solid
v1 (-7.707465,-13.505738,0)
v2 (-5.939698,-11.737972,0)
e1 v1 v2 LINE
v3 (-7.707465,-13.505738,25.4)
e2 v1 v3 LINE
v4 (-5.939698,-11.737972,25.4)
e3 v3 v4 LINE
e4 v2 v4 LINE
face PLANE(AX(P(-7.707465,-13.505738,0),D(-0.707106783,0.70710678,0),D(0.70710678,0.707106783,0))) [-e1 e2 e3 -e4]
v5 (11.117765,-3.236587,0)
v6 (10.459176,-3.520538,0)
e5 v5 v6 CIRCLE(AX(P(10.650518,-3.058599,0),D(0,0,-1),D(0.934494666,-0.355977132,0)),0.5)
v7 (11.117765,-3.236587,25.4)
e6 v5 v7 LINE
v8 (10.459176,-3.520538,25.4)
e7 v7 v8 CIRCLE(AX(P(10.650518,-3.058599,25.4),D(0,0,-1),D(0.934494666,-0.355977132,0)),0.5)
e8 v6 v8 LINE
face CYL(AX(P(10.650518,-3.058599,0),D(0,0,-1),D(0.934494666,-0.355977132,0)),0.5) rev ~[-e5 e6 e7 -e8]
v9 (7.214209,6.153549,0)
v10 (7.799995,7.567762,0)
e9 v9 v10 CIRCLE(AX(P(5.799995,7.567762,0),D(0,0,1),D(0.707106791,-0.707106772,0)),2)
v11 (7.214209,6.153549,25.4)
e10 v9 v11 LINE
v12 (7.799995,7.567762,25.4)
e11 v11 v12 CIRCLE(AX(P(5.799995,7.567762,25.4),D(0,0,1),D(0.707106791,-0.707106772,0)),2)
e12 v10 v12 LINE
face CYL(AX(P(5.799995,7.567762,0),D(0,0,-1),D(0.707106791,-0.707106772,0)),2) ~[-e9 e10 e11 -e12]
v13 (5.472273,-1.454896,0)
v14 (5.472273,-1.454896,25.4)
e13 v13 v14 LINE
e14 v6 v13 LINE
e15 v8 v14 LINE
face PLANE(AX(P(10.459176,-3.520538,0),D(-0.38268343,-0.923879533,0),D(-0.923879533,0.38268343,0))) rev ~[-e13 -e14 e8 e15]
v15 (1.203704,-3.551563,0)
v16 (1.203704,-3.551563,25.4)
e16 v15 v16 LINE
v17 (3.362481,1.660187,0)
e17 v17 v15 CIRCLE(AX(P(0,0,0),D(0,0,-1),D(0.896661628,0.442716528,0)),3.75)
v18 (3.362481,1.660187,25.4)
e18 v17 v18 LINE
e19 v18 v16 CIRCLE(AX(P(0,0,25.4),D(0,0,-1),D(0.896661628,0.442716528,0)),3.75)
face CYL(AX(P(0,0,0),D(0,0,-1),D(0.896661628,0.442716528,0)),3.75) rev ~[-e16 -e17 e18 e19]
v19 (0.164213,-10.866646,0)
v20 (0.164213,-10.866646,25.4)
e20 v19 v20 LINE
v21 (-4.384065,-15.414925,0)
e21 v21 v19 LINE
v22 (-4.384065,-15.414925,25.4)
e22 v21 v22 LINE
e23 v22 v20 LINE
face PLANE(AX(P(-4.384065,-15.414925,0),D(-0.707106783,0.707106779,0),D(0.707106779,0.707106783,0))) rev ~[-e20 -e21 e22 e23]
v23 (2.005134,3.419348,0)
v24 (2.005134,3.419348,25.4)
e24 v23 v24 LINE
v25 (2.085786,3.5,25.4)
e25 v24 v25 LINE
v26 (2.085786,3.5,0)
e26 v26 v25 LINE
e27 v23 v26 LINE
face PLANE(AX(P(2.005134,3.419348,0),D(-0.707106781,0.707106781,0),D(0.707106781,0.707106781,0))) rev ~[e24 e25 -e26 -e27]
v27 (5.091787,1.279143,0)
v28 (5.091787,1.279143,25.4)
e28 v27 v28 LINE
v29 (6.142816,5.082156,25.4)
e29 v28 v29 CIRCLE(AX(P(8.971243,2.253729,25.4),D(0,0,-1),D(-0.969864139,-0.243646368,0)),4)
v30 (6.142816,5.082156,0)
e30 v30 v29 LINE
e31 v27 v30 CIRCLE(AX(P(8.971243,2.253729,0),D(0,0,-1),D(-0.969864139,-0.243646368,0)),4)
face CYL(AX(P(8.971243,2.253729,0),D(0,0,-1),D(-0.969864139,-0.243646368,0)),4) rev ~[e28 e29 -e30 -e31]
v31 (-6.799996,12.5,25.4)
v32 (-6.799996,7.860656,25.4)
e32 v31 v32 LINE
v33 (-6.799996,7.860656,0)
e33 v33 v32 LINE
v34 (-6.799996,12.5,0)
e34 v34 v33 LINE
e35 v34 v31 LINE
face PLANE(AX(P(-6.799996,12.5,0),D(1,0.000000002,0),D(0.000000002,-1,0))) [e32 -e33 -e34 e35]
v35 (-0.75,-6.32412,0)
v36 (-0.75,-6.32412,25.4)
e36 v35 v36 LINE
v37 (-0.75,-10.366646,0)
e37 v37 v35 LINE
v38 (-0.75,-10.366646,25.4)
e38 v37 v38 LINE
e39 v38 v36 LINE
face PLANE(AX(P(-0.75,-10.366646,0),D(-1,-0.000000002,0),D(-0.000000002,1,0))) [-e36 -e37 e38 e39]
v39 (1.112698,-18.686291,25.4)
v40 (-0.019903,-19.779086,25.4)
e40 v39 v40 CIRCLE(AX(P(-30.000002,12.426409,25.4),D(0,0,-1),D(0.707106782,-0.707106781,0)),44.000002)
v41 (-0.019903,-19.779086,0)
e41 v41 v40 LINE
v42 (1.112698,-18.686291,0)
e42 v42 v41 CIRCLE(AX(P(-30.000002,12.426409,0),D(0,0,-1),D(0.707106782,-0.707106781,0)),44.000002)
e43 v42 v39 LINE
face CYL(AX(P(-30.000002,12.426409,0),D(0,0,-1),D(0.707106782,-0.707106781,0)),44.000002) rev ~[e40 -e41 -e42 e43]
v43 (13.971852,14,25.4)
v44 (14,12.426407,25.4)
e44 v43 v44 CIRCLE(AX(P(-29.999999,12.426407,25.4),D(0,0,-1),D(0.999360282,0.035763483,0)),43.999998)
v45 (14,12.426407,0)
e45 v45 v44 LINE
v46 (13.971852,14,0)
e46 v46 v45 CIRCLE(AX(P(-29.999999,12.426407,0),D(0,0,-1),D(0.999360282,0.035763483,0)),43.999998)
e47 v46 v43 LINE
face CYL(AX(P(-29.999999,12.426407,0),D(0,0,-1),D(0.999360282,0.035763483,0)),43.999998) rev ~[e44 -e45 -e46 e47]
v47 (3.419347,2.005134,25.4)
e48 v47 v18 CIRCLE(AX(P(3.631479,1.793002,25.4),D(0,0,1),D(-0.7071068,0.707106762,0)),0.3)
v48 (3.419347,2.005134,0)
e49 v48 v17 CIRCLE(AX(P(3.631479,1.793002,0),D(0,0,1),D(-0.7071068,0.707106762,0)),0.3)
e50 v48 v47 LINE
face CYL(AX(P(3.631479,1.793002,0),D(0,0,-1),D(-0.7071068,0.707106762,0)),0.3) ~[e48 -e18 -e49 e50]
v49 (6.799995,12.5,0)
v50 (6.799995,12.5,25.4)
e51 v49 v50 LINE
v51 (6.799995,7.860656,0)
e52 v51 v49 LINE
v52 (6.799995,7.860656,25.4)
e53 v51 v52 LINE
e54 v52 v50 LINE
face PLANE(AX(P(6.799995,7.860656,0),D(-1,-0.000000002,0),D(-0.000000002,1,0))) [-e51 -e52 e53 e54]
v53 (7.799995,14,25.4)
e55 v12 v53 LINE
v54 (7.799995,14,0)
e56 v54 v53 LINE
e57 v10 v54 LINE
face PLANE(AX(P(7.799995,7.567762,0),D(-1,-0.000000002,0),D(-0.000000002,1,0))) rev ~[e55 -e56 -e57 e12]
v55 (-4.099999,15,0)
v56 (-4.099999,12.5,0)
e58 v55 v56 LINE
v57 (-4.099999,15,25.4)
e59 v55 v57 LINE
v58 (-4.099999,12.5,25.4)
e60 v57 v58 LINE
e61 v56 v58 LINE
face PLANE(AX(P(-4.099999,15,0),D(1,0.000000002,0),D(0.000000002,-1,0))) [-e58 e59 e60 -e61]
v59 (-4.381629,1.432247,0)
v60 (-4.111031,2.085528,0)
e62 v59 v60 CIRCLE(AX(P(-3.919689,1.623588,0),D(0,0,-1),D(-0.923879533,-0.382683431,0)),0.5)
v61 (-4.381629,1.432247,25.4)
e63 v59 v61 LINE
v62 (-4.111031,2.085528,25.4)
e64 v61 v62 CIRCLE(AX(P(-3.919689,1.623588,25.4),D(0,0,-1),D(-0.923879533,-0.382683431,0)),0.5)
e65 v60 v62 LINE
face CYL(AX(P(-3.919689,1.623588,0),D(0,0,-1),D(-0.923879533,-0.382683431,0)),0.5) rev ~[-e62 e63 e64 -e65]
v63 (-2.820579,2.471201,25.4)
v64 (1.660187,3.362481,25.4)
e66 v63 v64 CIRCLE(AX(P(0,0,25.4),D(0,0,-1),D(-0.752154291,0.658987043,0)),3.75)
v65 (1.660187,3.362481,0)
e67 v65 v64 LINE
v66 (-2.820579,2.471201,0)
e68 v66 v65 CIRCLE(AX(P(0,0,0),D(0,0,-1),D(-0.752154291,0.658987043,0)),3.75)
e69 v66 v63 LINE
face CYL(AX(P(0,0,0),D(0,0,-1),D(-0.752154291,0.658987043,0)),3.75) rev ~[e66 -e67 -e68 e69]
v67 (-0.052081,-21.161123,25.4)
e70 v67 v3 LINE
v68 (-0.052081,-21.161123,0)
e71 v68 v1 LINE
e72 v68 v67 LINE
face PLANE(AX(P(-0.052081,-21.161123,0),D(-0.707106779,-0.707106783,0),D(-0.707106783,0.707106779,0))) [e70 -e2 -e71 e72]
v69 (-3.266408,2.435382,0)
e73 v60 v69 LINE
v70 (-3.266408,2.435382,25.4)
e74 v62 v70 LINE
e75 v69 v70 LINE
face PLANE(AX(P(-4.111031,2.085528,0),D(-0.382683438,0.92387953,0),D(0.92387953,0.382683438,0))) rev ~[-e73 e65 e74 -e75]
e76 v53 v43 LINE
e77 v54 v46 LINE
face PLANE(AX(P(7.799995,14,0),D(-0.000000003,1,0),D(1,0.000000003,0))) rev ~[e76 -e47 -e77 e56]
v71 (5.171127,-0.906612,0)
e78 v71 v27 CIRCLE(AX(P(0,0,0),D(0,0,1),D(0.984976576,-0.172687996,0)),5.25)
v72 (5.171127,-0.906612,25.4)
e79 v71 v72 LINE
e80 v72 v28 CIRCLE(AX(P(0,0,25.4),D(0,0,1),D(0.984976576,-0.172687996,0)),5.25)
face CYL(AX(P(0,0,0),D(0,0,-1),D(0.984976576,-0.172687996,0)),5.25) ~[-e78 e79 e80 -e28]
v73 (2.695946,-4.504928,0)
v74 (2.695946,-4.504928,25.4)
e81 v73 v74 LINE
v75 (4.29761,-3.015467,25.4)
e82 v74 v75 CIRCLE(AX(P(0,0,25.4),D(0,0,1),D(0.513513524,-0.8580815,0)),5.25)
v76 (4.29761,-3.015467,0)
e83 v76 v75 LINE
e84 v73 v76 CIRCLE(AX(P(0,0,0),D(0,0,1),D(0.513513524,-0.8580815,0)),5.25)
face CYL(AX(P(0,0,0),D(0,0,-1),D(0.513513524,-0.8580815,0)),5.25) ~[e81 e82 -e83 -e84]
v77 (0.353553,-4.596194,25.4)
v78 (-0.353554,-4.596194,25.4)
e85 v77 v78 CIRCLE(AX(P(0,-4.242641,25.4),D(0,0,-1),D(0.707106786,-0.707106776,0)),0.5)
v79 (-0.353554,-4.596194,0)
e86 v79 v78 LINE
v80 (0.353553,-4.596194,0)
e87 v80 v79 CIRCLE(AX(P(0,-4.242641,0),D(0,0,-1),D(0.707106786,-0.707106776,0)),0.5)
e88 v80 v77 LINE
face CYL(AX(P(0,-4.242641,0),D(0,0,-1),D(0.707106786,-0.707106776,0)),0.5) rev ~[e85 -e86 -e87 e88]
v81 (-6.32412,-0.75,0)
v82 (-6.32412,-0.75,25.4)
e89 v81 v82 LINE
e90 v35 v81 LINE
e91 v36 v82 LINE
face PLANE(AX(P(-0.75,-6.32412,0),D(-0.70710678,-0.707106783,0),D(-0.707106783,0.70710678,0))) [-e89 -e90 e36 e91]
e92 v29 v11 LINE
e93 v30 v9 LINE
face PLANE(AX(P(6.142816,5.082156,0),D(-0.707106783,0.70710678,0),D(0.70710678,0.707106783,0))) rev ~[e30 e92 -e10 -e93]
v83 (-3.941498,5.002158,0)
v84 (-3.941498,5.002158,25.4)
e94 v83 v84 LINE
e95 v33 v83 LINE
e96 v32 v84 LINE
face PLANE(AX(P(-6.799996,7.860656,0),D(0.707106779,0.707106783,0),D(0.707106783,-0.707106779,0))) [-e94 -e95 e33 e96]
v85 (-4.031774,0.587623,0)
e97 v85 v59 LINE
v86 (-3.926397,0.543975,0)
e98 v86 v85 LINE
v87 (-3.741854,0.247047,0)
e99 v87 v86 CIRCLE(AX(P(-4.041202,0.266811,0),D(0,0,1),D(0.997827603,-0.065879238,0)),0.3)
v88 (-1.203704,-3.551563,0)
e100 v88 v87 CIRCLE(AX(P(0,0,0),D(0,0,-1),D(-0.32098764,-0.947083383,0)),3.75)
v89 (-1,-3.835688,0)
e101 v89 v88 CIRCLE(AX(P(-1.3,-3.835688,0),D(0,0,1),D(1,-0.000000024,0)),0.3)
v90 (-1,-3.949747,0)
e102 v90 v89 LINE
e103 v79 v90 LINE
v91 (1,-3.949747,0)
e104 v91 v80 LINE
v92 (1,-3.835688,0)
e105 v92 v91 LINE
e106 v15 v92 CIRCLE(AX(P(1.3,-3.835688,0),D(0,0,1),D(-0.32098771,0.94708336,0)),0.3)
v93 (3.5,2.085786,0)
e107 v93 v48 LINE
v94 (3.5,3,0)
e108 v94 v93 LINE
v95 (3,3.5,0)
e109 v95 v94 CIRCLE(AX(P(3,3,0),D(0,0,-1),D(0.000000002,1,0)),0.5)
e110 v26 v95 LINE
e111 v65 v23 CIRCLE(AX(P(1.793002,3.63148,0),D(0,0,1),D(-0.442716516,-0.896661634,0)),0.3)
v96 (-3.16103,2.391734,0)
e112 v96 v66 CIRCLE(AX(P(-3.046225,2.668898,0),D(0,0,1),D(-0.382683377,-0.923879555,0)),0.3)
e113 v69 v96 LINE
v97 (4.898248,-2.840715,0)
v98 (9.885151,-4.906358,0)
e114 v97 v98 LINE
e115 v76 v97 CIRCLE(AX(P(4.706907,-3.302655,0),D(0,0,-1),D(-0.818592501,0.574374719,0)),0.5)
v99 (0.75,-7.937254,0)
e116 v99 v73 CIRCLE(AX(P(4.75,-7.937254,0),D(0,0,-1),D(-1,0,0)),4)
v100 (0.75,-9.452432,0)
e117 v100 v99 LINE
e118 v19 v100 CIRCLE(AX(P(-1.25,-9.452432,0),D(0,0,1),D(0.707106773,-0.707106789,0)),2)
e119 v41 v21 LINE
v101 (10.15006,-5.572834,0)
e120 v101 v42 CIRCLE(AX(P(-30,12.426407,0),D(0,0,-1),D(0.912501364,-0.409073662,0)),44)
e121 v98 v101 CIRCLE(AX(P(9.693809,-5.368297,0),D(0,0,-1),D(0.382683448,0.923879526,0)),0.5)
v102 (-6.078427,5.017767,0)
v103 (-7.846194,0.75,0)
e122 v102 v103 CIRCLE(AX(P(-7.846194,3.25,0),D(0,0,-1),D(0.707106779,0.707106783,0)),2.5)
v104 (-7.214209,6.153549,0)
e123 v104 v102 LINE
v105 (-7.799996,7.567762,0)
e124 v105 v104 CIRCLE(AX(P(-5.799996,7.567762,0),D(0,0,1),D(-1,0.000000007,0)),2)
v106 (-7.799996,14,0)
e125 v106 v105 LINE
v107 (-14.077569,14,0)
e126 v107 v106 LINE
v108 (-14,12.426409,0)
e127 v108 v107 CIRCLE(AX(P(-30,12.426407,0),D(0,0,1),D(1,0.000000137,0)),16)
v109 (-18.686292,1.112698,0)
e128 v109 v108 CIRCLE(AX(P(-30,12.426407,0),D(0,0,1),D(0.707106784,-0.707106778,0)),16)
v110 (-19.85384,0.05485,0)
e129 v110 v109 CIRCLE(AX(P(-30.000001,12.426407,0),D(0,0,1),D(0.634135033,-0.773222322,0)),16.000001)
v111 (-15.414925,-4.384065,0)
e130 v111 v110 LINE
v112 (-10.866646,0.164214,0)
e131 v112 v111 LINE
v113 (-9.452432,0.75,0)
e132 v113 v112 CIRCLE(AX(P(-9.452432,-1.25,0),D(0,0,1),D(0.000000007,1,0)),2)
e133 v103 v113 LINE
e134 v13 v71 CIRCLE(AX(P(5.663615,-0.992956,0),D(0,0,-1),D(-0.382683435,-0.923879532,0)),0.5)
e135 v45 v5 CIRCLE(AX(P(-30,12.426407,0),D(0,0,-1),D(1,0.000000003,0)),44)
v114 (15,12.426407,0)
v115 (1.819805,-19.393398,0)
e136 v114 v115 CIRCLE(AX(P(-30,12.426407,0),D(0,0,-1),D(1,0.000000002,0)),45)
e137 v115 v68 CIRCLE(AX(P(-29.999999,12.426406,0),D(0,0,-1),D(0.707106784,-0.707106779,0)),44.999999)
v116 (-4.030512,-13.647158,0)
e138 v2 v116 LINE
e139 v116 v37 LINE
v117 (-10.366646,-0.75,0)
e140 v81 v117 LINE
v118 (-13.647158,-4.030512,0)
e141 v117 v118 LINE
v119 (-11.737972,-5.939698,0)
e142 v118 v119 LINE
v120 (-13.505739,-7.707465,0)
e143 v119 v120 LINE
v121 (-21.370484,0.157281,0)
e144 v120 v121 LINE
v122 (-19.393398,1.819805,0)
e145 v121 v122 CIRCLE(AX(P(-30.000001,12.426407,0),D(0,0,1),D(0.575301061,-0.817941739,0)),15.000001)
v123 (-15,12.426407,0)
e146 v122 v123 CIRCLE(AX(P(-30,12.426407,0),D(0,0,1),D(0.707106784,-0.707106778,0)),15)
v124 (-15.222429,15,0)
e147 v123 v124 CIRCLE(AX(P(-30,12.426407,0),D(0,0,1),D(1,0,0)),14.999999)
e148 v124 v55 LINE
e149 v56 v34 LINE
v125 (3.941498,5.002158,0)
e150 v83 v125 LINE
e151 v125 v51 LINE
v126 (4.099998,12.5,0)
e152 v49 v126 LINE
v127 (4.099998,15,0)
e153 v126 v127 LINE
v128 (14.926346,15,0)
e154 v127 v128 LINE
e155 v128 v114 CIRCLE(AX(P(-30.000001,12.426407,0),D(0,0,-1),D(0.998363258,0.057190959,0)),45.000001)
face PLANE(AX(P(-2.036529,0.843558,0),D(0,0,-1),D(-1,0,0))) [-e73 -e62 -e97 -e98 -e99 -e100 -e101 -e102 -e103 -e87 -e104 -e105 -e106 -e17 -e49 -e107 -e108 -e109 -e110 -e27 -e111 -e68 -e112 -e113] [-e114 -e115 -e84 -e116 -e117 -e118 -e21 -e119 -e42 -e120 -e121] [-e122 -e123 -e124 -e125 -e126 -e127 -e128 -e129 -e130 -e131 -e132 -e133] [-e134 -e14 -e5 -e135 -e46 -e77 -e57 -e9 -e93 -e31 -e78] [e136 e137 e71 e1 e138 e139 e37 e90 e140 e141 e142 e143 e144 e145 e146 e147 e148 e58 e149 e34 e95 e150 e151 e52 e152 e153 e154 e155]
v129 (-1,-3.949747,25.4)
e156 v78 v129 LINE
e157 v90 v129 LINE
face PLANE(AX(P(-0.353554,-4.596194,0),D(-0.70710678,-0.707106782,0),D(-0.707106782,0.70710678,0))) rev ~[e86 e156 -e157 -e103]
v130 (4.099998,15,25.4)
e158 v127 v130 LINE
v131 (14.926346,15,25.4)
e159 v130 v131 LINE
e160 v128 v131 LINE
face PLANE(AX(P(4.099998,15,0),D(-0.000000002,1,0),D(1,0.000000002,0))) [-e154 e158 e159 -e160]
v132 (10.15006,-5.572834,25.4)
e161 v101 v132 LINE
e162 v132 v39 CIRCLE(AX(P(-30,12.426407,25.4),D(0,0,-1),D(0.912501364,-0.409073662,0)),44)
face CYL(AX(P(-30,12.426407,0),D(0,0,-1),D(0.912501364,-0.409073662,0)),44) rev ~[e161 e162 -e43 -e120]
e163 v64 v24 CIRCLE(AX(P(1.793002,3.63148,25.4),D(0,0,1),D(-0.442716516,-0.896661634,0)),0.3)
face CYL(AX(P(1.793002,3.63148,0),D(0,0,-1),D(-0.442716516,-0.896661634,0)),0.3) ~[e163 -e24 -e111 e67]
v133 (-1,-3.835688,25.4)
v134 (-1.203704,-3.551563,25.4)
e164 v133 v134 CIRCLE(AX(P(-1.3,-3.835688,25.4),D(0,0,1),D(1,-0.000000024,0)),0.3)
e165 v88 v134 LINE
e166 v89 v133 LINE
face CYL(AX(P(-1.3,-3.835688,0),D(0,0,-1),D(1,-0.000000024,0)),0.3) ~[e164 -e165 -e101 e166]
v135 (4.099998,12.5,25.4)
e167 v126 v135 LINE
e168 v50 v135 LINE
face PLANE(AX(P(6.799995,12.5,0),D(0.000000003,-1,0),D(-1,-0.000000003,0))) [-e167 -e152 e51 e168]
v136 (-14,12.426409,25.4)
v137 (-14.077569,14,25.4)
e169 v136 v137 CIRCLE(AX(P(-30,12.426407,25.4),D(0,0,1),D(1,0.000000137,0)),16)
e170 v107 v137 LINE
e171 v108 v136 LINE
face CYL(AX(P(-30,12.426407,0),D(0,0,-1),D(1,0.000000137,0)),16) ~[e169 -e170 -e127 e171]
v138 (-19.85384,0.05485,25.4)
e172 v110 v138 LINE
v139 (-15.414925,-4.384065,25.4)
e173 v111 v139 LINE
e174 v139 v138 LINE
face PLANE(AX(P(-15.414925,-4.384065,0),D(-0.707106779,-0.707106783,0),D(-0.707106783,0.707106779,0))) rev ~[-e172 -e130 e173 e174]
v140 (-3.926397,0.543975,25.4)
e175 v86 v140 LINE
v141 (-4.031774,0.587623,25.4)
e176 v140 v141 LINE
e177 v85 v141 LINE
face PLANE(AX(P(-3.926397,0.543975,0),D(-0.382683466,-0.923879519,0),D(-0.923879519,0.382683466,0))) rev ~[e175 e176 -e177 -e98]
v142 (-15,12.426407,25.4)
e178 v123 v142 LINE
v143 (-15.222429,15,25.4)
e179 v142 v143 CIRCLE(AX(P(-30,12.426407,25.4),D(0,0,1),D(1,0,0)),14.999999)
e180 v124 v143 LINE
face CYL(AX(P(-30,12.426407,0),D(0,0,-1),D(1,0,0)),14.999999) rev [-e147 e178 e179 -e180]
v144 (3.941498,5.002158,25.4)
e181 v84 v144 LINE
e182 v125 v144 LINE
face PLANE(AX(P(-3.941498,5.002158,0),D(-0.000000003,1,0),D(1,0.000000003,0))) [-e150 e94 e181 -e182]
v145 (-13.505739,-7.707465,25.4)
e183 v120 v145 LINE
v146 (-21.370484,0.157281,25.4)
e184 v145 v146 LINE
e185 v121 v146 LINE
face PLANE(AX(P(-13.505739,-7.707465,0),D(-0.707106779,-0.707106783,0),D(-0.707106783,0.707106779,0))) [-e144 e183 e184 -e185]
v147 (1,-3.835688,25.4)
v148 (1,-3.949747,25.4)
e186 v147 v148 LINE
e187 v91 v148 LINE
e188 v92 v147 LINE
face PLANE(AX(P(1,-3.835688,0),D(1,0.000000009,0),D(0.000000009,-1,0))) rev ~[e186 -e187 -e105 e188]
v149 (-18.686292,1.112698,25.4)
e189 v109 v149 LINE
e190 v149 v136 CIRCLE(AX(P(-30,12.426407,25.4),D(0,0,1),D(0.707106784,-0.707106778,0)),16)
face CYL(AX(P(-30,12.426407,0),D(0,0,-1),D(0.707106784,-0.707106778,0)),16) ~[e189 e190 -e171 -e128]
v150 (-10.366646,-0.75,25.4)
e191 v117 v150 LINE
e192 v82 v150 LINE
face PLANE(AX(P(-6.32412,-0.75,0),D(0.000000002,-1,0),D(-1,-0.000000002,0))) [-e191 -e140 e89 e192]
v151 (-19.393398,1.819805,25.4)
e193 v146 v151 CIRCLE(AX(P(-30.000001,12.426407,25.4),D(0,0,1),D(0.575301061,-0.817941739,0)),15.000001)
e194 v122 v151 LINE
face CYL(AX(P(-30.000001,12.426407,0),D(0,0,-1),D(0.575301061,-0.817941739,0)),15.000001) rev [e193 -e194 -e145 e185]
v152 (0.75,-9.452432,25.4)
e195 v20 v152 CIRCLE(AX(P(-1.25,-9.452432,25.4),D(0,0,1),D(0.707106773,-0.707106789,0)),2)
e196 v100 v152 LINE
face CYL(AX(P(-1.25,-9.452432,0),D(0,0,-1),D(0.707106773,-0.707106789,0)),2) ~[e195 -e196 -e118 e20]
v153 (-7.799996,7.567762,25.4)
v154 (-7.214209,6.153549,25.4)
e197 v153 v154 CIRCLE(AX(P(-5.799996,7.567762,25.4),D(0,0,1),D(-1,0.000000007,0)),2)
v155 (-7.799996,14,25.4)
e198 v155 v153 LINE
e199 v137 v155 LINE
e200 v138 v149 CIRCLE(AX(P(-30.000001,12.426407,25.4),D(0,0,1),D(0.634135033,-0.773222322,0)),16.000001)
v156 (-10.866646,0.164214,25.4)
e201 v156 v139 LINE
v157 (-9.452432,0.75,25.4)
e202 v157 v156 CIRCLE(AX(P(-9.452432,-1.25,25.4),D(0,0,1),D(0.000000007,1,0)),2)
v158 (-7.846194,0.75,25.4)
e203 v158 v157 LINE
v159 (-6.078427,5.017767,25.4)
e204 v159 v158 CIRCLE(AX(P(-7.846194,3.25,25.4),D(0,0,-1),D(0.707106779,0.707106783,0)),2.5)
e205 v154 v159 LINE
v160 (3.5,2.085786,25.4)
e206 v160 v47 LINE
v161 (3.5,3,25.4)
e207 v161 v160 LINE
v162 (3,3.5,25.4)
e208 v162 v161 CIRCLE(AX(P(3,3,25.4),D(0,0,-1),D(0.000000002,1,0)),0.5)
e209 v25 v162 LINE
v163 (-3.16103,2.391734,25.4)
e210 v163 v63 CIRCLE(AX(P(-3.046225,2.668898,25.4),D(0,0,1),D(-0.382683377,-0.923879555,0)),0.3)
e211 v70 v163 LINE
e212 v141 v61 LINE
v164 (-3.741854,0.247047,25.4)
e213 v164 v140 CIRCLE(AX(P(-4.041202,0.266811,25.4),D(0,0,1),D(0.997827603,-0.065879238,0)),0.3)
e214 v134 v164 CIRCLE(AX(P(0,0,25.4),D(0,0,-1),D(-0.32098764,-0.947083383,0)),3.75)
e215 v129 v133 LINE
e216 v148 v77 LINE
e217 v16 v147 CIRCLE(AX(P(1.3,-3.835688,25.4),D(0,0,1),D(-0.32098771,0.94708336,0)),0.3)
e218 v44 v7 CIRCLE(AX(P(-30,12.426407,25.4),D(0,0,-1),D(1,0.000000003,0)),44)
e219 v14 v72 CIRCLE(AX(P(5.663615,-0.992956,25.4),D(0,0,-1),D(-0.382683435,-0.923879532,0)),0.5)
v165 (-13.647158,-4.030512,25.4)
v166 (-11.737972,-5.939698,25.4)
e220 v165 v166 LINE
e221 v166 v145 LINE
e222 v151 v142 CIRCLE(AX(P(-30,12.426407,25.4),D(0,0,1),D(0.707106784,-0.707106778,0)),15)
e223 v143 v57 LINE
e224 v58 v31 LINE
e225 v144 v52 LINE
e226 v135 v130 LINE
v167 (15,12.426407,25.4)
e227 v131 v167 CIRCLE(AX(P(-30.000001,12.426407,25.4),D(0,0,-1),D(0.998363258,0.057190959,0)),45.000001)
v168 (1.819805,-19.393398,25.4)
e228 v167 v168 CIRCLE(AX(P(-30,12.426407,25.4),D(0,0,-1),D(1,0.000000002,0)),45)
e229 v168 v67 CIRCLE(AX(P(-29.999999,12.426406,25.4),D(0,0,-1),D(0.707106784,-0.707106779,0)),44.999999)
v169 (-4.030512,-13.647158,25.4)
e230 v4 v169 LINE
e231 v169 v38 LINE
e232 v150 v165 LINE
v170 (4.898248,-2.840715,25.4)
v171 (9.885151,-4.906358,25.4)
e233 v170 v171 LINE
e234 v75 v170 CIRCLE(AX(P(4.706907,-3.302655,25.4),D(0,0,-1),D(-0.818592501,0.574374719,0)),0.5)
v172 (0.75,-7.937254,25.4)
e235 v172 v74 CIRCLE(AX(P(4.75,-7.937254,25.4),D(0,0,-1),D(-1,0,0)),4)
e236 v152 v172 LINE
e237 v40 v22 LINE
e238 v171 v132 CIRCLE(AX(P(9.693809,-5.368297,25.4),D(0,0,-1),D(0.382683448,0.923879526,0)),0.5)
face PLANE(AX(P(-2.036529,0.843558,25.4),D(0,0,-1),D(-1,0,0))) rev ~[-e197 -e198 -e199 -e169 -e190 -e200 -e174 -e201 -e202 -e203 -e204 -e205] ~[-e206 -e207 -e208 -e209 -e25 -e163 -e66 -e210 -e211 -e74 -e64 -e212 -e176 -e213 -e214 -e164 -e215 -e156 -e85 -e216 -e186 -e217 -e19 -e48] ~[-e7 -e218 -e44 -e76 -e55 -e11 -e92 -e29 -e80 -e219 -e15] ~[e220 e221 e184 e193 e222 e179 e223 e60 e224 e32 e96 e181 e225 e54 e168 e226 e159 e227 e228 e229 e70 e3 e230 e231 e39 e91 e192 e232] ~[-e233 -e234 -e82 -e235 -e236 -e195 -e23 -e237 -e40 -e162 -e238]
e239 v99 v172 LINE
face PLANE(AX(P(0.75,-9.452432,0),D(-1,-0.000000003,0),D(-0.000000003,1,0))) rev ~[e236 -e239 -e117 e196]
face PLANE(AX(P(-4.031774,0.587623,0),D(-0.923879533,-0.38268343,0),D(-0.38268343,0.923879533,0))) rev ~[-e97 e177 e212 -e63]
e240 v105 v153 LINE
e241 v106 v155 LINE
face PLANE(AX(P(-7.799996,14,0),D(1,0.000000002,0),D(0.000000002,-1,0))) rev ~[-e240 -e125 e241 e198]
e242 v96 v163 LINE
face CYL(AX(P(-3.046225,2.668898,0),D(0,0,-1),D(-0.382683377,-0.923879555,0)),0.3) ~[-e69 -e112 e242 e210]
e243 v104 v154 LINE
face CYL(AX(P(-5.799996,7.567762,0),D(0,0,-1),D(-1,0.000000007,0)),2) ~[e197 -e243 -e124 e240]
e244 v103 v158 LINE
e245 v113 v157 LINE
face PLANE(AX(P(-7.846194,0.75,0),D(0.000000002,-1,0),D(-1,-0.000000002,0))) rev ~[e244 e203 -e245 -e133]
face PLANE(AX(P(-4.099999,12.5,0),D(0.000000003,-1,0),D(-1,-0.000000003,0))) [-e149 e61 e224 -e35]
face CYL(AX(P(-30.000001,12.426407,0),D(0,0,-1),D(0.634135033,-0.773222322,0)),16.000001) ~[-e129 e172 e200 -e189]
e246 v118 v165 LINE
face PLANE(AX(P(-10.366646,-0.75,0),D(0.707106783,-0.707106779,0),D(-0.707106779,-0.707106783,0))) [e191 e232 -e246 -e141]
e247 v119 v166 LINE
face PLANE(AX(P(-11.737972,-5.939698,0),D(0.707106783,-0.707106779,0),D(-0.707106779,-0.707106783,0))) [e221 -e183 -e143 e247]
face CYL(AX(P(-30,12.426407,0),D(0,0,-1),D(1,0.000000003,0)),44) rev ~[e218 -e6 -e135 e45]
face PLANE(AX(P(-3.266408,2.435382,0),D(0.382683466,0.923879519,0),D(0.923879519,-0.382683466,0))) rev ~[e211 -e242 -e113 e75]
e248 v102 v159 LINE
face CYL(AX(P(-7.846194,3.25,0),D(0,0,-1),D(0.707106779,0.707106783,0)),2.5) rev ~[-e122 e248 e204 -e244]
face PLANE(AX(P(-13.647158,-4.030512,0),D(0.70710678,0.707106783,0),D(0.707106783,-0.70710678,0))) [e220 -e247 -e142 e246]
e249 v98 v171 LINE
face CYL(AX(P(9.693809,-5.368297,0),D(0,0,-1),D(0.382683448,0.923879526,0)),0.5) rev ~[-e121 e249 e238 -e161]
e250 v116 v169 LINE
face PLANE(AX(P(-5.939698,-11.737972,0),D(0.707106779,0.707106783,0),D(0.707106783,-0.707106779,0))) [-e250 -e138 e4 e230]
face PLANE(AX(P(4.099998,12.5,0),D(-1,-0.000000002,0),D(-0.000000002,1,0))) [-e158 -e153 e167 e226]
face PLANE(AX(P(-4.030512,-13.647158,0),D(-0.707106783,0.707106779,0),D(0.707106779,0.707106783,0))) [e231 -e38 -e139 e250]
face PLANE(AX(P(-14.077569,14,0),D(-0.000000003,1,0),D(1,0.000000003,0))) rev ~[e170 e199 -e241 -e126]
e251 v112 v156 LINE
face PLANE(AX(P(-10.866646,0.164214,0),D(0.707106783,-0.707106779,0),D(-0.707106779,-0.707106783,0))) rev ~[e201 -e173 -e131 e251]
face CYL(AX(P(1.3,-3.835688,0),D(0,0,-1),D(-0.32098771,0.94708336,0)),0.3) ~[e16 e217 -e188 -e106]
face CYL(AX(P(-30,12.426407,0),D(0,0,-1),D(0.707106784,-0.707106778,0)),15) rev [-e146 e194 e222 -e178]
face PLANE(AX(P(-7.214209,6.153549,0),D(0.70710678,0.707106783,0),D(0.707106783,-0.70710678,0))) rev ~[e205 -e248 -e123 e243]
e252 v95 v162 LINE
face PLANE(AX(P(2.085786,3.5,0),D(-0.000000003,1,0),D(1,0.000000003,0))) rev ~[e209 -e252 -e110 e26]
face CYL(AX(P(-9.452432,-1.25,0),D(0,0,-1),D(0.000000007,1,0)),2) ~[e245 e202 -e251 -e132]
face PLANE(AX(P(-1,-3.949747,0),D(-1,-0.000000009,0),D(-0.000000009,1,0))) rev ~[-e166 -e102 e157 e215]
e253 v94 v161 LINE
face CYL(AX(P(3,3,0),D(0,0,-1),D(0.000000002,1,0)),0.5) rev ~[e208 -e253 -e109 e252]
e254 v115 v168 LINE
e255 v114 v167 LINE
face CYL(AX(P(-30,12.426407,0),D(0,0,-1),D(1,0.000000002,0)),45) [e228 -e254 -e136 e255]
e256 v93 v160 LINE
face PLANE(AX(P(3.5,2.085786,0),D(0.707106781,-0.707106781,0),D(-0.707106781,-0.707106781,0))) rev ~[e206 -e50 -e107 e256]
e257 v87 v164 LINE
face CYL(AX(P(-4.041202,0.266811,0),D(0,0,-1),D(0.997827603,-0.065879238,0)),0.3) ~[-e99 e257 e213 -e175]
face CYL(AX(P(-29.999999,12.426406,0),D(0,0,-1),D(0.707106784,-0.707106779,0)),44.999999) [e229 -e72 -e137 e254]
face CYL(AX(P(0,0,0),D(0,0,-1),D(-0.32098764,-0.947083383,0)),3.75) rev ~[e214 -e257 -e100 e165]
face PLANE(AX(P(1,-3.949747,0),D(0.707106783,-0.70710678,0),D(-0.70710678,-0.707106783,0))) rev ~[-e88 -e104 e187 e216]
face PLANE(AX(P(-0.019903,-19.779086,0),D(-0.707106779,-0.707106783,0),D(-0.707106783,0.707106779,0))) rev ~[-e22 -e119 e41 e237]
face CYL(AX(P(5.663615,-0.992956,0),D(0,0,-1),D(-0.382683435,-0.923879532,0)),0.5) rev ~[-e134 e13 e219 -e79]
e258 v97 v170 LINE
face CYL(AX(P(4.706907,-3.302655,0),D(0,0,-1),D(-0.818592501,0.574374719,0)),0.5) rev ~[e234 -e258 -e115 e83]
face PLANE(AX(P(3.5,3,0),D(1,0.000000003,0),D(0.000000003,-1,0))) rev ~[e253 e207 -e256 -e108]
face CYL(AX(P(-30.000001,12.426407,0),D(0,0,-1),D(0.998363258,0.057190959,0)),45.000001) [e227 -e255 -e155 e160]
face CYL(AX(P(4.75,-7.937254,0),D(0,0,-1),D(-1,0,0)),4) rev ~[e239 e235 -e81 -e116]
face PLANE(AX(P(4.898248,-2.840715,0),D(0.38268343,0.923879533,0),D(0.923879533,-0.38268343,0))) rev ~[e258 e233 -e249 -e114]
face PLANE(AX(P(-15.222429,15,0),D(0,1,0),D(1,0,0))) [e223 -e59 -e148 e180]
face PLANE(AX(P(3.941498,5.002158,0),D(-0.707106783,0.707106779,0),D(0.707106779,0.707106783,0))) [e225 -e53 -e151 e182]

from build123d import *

# Parameters (mm, degrees)
EXTRUSION4_DEPTH = 25.4


with BuildPart() as part:
    # Sketch1 → Extrusion4 (new body)
    with BuildSketch(Plane.XY):
        with BuildLine():
            Line((-15.222428705, 14.999999974), (-4.099998637, 14.999999974))
            Line((-4.099998637, 14.999999974), (-4.099998631, 12.499999975))
            Line((-4.099998631, 12.499999975), (-6.799995581, 12.499999968))
            Line((-6.799995581, 12.499999968), (-6.79999557, 7.860655568))
            Line((-6.79999557, 7.860655568), (-3.941498133, 5.002158145))
            Line((-3.941498133, 5.002158145), (3.941497857, 5.002158165))
            Line((3.941497857, 5.002158165), (6.79999528, 7.860655602))
            Line((6.79999528, 7.860655602), (6.799995269, 12.500000002))
            Line((6.799995269, 12.500000002), (4.099998319, 12.499999995))
            Line((4.099998319, 12.499999995), (4.099998313, 14.999999995))
            Line((4.099998313, 14.999999995), (14.92634643, 15.000000022))
            ThreePointArc((14.92634643, 15.000000022), (14.981582716, 13.713730334), (14.999999839, 12.426406922))
            ThreePointArc((14.999999839, 12.426406922), (11.574578842, -4.794347555), (1.819805062, -19.393398286))
            ThreePointArc((1.819805062, -19.393398286), (0.896507077, -20.290650536), (-0.052080894, -21.161122609))
            Line((-0.052080894, -21.161122609), (-7.707465087, -13.505738454))
            Line((-7.707465087, -13.505738454), (-5.939698141, -11.7379715))
            Line((-5.939698141, -11.7379715), (-4.030511986, -13.647157645))
            Line((-4.030511986, -13.647157645), (-0.750000115, -10.366645757))
            Line((-0.750000115, -10.366645757), (-0.750000125, -6.324119927))
            Line((-0.750000125, -6.324119927), (-6.324120058, -0.75000002))
            Line((-6.324120058, -0.75000002), (-10.366645888, -0.75000003))
            Line((-10.366645888, -0.75000003), (-13.64715776, -4.030511919))
            Line((-13.64715776, -4.030511919), (-11.737971606, -5.939698064))
            Line((-11.737971606, -5.939698064), (-13.505738551, -7.707465018))
            Line((-13.505738551, -7.707465018), (-21.370484292, 0.157280684))
            ThreePointArc((-21.370484292, 0.157280684), (-20.34608634, 0.945903864), (-19.393398415, 1.819805117))
            ThreePointArc((-19.393398415, 1.819805117), (-16.141807163, 6.68615536), (-15.000000161, 12.426406848))
            ThreePointArc((-15.000000161, 12.426406848), (-15.055710753, 13.718000441), (-15.222428705, 14.999999974))
        make_face()
        with BuildLine():
            Line((-4.031774412, 0.587623385), (-4.381628794, 1.432246584))
            ThreePointArc((-4.381628794, 1.432246584), (-4.381628794, 1.814930015), (-4.111030745, 2.085528065))
            Line((-4.111030745, 2.085528065), (-3.266407566, 2.435382447))
            Line((-3.266407566, 2.435382447), (-3.161030076, 2.391733657))
            ThreePointArc((-3.161030076, 2.391733657), (-2.978032474, 2.376750688), (-2.820578756, 2.471201408))
            ThreePointArc((-2.820578756, 2.471201408), (-0.731588872, 3.677944803), (1.660186832, 3.362481109))
            ThreePointArc((1.660186832, 3.362481109), (1.841799821, 3.33547495), (2.005133821, 3.41934756))
            Line((2.005133821, 3.41934756), (2.085786261, 3.5))
            Line((2.085786261, 3.5), (2.999999821, 3.500000003))
            ThreePointArc((2.999999821, 3.500000003), (3.353553212, 3.353553393), (3.499999822, 3.000000004))
            Line((3.499999822, 3.000000004), (3.499999825, 2.085786444))
            Line((3.499999825, 2.085786444), (3.419347385, 2.005134004))
            ThreePointArc((3.419347385, 2.005134004), (3.335474775, 1.841800003), (3.362480936, 1.660187013))
            ThreePointArc((3.362480936, 1.660187013), (3.464548079, -1.435062852), (1.203703559, -3.551562652))
            ThreePointArc((1.203703559, -3.551562652), (1.056187548, -3.660886193), (0.999999859, -3.835687662))
            Line((0.999999859, -3.835687662), (0.99999986, -3.949747432))
            Line((0.99999986, -3.949747432), (0.353553251, -4.596194044))
            ThreePointArc((0.353553251, -4.596194044), (-1.38e-07, -4.742640655), (-0.353553529, -4.596194046))
            Line((-0.353553529, -4.596194046), (-1.00000014, -3.949747437))
            Line((-1.00000014, -3.949747437), (-1.000000141, -3.835687667))
            ThreePointArc((-1.000000141, -3.835687667), (-1.056187824, -3.660886194), (-1.203703841, -3.551562658))
            ThreePointArc((-1.203703841, -3.551562658), (-3.118011196, -2.083388382), (-3.741853671, 0.247046976))
            ThreePointArc((-3.741853671, 0.247046976), (-3.786403511, 0.425170315), (-3.926396922, 0.543974595))
            Line((-3.926396922, 0.543974595), (-4.031774412, 0.587623385))
        make_face(mode=Mode.SUBTRACT)
        with BuildLine():
            Line((7.799995261, 7.567762394), (7.799995245, 14.000000024))
            Line((7.799995245, 14.000000024), (13.971852229, 14.00000004))
            ThreePointArc((13.971852229, 14.00000004), (13.992962358, 13.213329344), (13.999999819, 12.426406924))
            ThreePointArc((13.999999819, 12.426406924), (13.273442442, 4.463419684), (11.117765058, -3.236587227))
            ThreePointArc((11.117765058, -3.236587227), (10.848477439, -3.517741288), (10.459176009, -3.520538429))
            Line((10.459176009, -3.520538429), (5.472273453, -1.454895771))
            ThreePointArc((5.472273453, -1.454895771), (5.225369073, -1.233664041), (5.171126882, -0.906612002))
            ThreePointArc((5.171126882, -0.906612002), (5.246544564, 0.190443263), (5.091786587, 1.279143428))
            ThreePointArc((5.091786587, 1.279143428), (5.115772732, 3.31925596), (6.142816007, 5.08215601))
            Line((6.142816007, 5.08215601), (7.214208825, 6.153548833))
            ThreePointArc((7.214208825, 6.153548833), (7.647754322, 6.802395532), (7.799995261, 7.567762394))
        make_face(mode=Mode.SUBTRACT)
        with BuildLine():
            Line((0.749999883, -9.452432163), (0.749999879, -7.937253913))
            ThreePointArc((0.749999879, -7.937253913), (1.270329188, -5.964466066), (2.695945821, -4.504927888))
            ThreePointArc((2.695945821, -4.504927888), (3.575203493, -3.84453103), (4.297610347, -3.01546746))
            ThreePointArc((4.297610347, -3.01546746), (4.567226078, -2.822561759), (4.898248297, -2.840715069))
            Line((4.898248297, -2.840715069), (9.885150852, -4.906357727))
            ThreePointArc((9.885150852, -4.906357727), (10.158450647, -5.183613277), (10.150059814, -5.57283431))
            ThreePointArc((10.150059814, -5.57283431), (6.229626845, -12.541855522), (1.112698256, -18.686291472))
            ThreePointArc((1.112698256, -18.686291472), (0.551283843, -19.237753416), (-0.019903451, -19.779086485))
            Line((-0.019903451, -19.779086485), (-4.384065382, -15.414924576))
            Line((-4.384065382, -15.414924576), (0.164213447, -10.866645724))
            ThreePointArc((0.164213447, -10.866645724), (0.597758953, -10.217799029), (0.749999883, -9.452432163))
        make_face(mode=Mode.SUBTRACT)
        with BuildLine():
            Line((-14.07756929, 13.99999997), (-7.799995595, 13.999999986))
            Line((-7.799995595, 13.999999986), (-7.799995579, 7.567762366))
            ThreePointArc((-7.799995579, 7.567762366), (-7.647754645, 6.802395501), (-7.214209135, 6.153548807))
            Line((-7.214209135, 6.153548807), (-6.078427273, 5.01776695))
            ThreePointArc((-6.078427273, 5.01776695), (-5.536495387, 2.29329142), (-7.846194212, 0.749999996))
            Line((-7.846194212, 0.749999996), (-9.452432322, 0.749999992))
            ThreePointArc((-9.452432322, 0.749999992), (-10.217799187, 0.597759058), (-10.866645881, 0.164213548))
            Line((-10.866645881, 0.164213548), (-15.414924709, -4.384065303))
            Line((-15.414924709, -4.384065303), (-19.853839651, 0.054849617))
            ThreePointArc((-19.853839651, 0.054849617), (-19.257037077, 0.569394344), (-18.686291624, 1.112698328))
            ThreePointArc((-18.686291624, 1.112698328), (-15.217927205, 6.303472924), (-14.000000151, 12.426409013))
            ThreePointArc((-14.000000151, 12.426409013), (-14.019404256, 13.214159839), (-14.07756929, 13.99999997))
        make_face(mode=Mode.SUBTRACT)
    extrude(amount=EXTRUSION4_DEPTH)


solid = part.part
